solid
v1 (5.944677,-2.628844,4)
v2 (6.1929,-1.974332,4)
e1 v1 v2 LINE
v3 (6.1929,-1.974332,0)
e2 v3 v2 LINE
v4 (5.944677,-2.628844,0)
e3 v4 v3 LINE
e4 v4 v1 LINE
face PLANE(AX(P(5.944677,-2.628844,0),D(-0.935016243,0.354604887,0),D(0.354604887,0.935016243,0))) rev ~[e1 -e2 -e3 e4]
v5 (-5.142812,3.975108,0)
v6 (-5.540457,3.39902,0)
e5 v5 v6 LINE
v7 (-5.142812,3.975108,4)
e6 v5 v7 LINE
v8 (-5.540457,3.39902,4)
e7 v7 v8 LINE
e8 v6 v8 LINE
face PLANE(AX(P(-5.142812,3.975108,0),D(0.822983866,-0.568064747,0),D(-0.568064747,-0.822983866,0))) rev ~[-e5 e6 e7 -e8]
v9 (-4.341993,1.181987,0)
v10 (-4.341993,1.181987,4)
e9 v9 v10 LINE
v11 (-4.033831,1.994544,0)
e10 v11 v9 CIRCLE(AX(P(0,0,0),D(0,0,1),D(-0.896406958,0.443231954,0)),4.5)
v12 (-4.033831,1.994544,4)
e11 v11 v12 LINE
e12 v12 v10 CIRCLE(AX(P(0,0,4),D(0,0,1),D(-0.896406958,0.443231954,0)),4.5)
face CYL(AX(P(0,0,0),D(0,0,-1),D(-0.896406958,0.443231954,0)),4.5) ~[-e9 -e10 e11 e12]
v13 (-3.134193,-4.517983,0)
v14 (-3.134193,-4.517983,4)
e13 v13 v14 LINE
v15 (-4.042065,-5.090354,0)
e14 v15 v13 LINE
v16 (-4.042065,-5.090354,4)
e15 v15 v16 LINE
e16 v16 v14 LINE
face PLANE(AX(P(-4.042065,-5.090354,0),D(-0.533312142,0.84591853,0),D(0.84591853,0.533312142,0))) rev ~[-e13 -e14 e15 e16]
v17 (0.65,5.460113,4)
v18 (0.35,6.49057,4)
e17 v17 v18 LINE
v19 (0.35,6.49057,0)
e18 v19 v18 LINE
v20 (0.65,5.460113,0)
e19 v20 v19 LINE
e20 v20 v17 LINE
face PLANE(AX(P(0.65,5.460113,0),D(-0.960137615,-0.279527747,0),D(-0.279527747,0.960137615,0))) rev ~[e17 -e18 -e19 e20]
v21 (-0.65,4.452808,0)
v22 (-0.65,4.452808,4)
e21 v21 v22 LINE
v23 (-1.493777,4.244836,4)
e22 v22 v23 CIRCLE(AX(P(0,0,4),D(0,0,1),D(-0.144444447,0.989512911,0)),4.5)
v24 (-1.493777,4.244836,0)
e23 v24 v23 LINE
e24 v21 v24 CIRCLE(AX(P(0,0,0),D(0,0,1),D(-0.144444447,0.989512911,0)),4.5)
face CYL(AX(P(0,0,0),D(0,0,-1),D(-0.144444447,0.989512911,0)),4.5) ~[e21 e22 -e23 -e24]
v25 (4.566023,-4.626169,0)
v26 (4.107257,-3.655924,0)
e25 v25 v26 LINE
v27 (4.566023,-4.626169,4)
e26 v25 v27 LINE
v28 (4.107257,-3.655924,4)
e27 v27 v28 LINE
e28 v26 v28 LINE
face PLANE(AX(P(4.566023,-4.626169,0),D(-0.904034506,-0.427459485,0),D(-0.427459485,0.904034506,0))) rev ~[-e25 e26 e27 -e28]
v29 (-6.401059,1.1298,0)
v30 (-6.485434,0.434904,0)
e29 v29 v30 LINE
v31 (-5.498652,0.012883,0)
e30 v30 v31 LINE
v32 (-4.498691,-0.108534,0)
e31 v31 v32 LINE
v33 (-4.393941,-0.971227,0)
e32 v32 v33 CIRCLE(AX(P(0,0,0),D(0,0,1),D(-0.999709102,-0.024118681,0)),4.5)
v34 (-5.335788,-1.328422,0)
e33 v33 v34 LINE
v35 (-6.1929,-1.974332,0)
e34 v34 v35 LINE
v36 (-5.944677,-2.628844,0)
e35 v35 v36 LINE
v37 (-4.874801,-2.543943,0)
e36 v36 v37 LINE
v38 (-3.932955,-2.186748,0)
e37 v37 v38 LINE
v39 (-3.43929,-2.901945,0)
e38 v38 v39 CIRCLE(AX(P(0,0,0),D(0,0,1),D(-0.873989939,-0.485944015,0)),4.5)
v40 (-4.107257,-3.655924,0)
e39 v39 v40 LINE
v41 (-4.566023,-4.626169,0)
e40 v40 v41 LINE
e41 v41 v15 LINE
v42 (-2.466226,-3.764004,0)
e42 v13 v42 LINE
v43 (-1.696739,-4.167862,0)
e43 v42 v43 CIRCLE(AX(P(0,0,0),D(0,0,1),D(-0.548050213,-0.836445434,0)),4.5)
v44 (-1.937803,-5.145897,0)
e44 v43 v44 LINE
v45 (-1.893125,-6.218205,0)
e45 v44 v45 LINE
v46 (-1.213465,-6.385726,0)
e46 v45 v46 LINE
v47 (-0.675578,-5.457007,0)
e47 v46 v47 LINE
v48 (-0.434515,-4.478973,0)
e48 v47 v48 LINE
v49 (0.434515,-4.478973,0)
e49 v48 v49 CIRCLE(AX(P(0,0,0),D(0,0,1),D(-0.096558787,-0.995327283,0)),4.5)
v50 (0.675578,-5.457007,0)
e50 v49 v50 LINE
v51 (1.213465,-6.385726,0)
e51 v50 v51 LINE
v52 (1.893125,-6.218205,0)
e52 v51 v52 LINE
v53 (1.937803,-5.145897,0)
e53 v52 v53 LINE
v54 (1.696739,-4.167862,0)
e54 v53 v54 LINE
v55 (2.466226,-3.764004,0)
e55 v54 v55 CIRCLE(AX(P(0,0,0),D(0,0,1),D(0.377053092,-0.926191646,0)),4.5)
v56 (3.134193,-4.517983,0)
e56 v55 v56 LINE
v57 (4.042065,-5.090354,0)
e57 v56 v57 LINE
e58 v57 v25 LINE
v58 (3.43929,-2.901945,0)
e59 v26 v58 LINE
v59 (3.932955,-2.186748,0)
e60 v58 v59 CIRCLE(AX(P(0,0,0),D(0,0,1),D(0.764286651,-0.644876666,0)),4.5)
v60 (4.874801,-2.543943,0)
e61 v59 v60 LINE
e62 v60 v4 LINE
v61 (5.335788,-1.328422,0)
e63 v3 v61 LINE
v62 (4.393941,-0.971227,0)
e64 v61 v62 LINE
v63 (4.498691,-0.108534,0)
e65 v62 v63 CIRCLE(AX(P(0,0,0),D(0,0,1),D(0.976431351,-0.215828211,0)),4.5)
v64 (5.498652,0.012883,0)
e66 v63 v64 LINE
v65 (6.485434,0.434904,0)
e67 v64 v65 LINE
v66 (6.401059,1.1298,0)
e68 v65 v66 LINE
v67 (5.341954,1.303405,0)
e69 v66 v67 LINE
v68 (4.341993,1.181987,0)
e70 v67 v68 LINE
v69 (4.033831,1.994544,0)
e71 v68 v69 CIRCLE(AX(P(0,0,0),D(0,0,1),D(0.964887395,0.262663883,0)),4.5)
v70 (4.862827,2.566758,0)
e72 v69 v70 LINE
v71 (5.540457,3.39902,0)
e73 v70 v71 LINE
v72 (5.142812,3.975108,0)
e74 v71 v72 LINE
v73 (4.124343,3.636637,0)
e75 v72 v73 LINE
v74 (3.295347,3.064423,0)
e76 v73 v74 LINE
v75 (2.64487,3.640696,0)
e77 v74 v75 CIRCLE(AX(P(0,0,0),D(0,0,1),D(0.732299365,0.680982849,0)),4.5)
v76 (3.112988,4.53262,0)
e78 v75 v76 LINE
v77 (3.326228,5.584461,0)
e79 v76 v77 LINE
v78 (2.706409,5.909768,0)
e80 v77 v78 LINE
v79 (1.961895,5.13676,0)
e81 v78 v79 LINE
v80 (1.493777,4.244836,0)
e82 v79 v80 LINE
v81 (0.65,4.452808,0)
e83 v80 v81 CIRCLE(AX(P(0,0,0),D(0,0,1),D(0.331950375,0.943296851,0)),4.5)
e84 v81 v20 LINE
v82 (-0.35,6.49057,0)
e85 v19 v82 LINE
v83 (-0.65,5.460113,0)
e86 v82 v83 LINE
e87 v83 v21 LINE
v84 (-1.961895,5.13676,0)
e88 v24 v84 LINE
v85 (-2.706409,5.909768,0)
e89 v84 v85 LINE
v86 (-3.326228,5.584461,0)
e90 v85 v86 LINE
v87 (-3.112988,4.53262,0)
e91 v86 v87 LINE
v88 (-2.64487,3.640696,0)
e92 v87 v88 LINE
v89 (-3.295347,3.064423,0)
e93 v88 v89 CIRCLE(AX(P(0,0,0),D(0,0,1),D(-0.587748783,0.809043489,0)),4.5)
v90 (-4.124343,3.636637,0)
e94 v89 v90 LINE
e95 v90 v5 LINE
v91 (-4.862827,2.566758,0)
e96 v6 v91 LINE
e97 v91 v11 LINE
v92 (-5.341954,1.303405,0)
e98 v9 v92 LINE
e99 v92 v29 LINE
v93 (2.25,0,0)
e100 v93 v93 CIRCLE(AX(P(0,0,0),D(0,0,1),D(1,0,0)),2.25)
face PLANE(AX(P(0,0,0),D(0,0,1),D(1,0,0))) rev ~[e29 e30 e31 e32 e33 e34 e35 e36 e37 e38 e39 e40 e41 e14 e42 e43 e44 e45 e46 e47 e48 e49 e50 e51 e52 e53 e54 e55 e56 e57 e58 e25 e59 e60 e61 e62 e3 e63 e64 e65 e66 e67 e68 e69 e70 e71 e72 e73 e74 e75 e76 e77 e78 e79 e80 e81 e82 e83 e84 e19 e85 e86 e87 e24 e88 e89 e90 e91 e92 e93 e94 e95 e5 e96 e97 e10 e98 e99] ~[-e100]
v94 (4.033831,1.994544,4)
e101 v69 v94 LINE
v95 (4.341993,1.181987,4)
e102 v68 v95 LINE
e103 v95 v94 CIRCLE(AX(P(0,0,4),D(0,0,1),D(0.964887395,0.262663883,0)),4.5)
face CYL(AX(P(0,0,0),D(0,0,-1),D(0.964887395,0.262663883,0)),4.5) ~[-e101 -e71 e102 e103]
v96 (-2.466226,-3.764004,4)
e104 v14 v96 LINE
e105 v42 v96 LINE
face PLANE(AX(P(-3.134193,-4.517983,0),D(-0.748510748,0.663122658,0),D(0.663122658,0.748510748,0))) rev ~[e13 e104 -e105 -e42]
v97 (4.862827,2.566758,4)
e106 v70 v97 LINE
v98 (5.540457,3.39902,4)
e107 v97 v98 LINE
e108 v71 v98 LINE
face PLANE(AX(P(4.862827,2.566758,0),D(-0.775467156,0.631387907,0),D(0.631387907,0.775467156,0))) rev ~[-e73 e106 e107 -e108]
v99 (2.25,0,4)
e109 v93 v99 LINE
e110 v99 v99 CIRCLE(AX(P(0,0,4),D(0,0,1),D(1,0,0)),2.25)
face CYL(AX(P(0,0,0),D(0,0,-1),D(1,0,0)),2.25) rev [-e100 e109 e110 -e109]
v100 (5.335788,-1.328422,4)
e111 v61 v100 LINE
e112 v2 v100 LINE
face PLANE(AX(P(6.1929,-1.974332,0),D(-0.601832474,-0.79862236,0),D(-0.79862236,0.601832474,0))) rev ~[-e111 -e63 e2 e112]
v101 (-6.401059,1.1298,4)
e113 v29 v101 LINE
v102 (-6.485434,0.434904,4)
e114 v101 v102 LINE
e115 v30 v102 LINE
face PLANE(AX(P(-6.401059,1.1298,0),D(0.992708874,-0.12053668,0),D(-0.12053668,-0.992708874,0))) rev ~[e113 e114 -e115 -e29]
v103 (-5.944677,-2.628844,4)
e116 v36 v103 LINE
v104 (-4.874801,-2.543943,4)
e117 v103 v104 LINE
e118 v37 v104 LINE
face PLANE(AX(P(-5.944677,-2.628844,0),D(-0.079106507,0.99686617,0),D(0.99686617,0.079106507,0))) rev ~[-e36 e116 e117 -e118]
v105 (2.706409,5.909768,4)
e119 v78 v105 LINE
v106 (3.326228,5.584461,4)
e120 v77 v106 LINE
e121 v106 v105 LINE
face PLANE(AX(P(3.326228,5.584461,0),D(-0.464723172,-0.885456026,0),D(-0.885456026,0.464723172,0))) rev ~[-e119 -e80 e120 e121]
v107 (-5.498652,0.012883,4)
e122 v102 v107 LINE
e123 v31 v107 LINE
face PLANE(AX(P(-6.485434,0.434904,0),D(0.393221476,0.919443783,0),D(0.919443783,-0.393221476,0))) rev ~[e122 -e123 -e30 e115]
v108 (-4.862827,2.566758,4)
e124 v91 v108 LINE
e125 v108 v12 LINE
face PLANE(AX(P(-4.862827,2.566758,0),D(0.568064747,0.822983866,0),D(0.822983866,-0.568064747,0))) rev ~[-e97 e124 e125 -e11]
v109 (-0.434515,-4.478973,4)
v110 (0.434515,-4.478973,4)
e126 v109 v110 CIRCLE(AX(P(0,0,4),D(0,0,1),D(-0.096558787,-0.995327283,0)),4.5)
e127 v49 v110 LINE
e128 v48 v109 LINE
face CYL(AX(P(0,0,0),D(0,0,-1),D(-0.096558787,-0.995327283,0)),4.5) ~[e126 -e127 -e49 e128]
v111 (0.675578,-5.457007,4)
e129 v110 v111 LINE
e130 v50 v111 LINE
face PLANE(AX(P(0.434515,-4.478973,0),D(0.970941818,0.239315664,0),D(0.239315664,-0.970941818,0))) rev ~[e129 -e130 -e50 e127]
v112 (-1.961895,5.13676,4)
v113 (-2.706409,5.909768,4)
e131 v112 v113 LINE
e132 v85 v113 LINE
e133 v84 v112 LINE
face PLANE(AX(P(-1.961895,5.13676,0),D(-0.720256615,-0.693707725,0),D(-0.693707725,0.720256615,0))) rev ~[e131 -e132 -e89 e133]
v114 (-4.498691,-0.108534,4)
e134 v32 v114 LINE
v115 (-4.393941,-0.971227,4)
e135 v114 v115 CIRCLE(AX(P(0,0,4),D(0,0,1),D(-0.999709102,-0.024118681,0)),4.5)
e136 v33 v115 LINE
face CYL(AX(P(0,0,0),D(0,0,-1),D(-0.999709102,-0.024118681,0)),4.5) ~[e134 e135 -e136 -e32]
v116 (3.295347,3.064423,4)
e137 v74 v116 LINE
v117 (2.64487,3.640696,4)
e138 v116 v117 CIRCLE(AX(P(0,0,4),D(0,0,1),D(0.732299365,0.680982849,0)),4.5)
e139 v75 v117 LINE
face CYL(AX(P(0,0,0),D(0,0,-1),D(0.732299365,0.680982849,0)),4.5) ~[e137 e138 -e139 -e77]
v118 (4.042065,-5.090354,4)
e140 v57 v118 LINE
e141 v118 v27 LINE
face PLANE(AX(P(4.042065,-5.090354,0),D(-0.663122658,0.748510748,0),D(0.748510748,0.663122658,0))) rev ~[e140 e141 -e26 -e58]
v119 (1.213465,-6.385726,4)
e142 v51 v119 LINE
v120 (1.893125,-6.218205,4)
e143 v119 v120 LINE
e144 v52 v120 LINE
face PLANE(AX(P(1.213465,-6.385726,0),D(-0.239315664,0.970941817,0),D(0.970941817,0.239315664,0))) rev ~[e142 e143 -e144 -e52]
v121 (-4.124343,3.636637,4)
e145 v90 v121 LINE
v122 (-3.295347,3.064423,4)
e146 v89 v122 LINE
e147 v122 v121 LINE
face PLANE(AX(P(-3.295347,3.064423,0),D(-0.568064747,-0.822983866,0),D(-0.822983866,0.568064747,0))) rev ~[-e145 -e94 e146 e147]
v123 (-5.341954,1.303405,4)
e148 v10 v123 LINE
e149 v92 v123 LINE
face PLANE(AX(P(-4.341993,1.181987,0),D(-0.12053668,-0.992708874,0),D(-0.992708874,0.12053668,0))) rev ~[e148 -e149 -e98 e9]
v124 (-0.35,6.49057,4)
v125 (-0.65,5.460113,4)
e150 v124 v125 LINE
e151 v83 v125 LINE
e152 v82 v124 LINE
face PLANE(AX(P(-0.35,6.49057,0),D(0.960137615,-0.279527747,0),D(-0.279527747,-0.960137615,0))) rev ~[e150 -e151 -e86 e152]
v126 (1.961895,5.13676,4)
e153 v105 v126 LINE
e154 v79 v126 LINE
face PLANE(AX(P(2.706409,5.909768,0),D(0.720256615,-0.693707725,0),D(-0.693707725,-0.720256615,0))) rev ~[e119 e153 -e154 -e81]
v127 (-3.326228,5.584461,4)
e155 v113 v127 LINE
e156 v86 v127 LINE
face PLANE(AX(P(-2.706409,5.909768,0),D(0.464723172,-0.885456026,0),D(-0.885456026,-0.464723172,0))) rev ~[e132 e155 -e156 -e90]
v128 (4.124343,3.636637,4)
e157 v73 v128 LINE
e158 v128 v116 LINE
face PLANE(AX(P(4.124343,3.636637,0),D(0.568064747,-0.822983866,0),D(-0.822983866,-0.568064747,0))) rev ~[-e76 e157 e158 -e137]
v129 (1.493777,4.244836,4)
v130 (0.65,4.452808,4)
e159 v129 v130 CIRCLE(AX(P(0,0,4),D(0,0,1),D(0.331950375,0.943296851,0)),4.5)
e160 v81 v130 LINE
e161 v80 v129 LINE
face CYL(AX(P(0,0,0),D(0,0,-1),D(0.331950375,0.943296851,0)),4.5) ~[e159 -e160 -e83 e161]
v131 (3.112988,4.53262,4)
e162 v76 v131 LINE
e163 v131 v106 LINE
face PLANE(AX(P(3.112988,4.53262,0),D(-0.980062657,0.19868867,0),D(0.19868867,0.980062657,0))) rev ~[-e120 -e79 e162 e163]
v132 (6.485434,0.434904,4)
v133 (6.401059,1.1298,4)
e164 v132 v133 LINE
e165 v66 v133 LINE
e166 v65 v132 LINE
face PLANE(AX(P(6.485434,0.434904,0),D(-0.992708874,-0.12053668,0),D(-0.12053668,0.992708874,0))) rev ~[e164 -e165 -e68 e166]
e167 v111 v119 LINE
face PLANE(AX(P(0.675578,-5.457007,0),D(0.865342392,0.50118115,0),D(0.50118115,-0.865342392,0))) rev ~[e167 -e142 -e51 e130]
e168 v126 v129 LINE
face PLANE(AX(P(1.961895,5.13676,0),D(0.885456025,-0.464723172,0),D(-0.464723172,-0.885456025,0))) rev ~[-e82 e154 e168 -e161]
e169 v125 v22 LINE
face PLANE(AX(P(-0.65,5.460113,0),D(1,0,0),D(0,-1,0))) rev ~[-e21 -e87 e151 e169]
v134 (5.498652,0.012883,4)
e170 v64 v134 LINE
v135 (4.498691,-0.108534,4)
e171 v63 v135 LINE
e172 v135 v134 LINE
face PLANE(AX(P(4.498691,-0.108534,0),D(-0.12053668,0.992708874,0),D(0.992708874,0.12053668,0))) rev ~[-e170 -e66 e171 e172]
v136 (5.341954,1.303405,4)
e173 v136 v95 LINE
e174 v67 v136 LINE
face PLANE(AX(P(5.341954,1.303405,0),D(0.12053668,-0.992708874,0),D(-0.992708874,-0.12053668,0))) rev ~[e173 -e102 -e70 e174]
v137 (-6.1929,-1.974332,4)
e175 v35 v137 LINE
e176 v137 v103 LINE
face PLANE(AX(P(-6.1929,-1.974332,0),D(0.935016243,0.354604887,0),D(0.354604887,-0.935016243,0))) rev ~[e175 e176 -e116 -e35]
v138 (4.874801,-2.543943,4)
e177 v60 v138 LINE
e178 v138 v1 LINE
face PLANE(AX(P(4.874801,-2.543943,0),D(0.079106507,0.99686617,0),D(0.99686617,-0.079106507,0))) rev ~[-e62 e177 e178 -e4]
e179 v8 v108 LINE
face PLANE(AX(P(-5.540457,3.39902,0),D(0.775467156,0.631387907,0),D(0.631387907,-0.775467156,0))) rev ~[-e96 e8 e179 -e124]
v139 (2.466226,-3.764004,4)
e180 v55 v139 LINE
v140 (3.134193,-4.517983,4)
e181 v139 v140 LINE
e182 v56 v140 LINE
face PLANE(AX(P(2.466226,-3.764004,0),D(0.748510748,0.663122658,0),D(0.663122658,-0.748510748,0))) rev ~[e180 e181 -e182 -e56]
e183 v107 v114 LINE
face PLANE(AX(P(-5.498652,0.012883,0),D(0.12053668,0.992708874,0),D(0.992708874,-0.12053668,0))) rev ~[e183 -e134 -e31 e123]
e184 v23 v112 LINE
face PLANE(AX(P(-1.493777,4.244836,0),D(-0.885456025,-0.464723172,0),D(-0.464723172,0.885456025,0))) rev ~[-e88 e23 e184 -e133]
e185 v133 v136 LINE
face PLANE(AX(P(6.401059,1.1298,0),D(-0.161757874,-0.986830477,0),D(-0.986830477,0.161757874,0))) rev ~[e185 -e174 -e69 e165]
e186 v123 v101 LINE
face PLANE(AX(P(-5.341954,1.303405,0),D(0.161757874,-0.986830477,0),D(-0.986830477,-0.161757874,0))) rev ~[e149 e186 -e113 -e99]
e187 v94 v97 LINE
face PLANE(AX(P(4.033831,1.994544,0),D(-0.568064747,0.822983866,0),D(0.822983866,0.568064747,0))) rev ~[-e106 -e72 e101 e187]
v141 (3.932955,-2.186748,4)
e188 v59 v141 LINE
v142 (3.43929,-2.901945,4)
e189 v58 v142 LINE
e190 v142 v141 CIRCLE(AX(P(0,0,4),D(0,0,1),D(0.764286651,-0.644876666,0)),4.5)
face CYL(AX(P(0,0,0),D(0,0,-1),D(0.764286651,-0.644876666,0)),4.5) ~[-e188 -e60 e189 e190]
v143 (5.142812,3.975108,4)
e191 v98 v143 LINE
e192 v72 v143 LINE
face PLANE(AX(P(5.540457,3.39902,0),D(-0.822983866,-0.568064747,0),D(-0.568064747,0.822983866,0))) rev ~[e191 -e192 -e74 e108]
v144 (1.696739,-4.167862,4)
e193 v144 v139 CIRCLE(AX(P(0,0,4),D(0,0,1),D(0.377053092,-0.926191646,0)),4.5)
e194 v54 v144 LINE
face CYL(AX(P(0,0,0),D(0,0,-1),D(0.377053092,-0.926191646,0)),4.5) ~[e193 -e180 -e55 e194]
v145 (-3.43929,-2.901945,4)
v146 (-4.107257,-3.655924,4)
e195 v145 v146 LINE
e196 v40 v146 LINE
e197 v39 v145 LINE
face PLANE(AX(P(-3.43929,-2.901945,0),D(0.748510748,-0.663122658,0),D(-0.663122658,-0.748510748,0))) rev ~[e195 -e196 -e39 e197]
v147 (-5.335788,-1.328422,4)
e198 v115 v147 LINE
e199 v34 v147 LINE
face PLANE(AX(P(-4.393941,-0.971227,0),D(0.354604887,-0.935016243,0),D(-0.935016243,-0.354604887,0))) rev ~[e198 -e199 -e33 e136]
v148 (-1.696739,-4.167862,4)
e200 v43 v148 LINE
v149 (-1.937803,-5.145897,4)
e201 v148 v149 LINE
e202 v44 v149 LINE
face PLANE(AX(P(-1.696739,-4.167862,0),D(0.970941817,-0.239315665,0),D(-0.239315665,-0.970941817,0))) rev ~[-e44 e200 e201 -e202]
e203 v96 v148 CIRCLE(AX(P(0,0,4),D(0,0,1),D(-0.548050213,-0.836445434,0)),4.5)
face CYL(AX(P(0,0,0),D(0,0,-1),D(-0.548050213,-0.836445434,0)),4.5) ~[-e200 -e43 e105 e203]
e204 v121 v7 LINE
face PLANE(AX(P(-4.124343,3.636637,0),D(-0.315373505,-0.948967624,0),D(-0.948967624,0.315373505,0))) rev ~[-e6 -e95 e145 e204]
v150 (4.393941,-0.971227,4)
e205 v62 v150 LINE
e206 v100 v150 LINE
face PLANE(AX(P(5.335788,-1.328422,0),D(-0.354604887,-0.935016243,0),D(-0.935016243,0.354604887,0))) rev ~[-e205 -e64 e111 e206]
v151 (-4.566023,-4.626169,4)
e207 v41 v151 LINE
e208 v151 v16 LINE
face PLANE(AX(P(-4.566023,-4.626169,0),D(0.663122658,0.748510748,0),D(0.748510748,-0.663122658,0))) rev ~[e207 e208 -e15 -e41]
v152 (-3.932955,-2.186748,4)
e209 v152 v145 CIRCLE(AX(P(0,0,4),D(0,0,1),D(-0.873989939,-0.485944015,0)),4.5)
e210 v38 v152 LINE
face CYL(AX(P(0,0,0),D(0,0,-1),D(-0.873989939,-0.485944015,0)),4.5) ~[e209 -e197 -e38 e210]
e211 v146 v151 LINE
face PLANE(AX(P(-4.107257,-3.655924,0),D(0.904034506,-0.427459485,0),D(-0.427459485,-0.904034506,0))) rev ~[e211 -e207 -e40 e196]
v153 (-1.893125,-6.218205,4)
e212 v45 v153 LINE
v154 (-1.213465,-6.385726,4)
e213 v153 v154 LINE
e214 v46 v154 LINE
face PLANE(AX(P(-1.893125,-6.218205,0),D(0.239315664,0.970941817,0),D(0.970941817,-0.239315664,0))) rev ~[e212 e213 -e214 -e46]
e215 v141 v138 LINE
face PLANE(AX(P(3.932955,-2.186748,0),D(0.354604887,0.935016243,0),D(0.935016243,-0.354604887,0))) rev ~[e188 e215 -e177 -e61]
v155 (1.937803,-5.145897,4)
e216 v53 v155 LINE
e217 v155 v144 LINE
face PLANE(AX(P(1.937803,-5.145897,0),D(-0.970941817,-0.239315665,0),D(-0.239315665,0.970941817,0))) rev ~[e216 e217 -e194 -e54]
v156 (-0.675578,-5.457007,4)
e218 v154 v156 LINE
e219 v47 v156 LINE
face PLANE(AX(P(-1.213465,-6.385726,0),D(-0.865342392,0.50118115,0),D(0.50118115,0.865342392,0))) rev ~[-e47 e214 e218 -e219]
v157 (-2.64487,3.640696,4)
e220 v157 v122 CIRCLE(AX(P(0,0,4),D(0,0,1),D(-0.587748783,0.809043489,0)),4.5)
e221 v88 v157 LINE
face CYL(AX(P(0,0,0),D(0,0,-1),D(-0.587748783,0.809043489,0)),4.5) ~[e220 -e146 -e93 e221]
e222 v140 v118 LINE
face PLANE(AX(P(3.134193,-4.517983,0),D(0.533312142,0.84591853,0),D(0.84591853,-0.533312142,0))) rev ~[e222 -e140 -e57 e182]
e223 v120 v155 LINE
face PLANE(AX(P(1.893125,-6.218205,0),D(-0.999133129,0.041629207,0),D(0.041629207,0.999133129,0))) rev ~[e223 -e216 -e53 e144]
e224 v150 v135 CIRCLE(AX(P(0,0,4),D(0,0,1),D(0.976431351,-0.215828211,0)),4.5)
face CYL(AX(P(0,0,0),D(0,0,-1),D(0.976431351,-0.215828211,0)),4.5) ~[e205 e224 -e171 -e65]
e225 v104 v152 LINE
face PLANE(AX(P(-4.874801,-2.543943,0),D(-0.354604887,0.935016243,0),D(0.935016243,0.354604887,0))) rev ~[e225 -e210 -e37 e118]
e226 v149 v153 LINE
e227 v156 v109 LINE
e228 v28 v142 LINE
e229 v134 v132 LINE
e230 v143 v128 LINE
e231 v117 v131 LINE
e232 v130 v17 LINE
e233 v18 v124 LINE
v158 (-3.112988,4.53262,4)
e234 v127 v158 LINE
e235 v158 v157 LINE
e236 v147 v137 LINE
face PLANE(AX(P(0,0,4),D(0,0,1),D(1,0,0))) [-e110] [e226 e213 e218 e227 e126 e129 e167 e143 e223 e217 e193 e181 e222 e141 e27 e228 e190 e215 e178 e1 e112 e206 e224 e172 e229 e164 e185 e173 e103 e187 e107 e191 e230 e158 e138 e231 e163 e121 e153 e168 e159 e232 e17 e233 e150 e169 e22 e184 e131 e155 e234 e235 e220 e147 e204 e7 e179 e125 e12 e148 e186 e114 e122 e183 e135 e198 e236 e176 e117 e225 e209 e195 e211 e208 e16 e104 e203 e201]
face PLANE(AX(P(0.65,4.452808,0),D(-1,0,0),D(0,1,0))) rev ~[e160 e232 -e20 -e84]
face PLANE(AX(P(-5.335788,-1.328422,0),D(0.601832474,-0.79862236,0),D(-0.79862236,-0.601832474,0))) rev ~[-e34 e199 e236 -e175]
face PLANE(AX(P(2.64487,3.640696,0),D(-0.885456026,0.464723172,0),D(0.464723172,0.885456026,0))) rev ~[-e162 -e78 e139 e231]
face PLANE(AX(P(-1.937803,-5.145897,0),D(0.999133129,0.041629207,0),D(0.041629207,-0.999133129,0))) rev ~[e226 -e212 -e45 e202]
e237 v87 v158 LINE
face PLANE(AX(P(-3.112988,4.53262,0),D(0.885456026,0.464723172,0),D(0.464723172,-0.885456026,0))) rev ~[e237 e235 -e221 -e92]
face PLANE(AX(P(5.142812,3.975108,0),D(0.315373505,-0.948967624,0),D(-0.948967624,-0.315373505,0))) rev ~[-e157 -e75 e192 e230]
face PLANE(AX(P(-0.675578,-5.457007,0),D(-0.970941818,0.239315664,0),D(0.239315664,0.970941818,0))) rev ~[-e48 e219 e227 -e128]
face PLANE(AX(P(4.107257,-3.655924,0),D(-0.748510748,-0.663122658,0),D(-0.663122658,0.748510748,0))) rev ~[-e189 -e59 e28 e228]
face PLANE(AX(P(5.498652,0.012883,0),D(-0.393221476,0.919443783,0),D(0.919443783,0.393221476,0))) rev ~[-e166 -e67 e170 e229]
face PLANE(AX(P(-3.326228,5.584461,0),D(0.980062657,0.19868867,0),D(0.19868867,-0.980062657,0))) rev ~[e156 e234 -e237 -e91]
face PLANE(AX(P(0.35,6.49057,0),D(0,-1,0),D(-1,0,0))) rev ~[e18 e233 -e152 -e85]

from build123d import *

# Parameters (mm, degrees)
SZKIC1_R                    = 2.25
DODANIE_WYCI_GNI_CIE1_DEPTH = 4


with BuildPart() as part:
    # Szkic1 → Dodanie-wyciągnięcie1 (new body)
    with BuildSketch(Plane.XY):
        with BuildLine():
            Line((-0.65, 5.460113222), (-0.65, 4.452808103))
            ThreePointArc((-0.65, 4.452808103), (-1.076920489, 4.369238178), (-1.493776689, 4.244835827))
            Line((-1.493776689, 4.244835827), (-1.96189472, 5.136760215))
            Line((-1.96189472, 5.136760215), (-2.706408708, 5.9097675))
            Line((-2.706408708, 5.9097675), (-3.326227926, 5.58446128))
            Line((-3.326227926, 5.58446128), (-3.112987553, 4.532620091))
            Line((-3.112987553, 4.532620091), (-2.644869523, 3.640695704))
            ThreePointArc((-2.644869523, 3.640695704), (-2.984051962, 3.368298367), (-3.295347141, 3.06442282))
            Line((-3.295347141, 3.06442282), (-4.124343002, 3.636637347))
            Line((-4.124343002, 3.636637347), (-5.142811797, 3.975108403))
            Line((-5.142811797, 3.975108403), (-5.54045712, 3.399019697))
            Line((-5.54045712, 3.399019697), (-4.862827173, 2.566758322))
            Line((-4.862827173, 2.566758322), (-4.033831312, 1.994543794))
            ThreePointArc((-4.033831312, 1.994543794), (-4.207573092, 1.595721992), (-4.341993276, 1.181987475))
            Line((-4.341993276, 1.181987475), (-5.341954007, 1.30340469))
            Line((-5.341954007, 1.30340469), (-6.401058681, 1.129799877))
            Line((-6.401058681, 1.129799877), (-6.485434357, 0.434903665))
            Line((-6.485434357, 0.434903665), (-5.498651691, 0.012883153))
            Line((-5.498651691, 0.012883153), (-4.49869096, -0.108534062))
            ThreePointArc((-4.49869096, -0.108534062), (-4.467189933, -0.542415061), (-4.393941078, -0.971226957))
            Line((-4.393941078, -0.971226957), (-5.335787726, -1.328422275))
            Line((-5.335787726, -1.328422275), (-6.192900162, -1.974332186))
            Line((-6.192900162, -1.974332186), (-5.944676741, -2.628843556))
            Line((-5.944676741, -2.628843556), (-4.874801373, -2.54394339))
            Line((-4.874801373, -2.54394339), (-3.932954725, -2.186748072))
            ThreePointArc((-3.932954725, -2.186748072), (-3.703427397, -2.55629136), (-3.439289932, -2.901944997))
            Line((-3.439289932, -2.901944997), (-4.10725678, -3.655923705))
            Line((-4.10725678, -3.655923705), (-4.566022849, -4.626168538))
            Line((-4.566022849, -4.626168538), (-4.042065325, -5.090354399))
            Line((-4.042065325, -5.090354399), (-3.134192808, -4.517983161))
            Line((-3.134192808, -4.517983161), (-2.466225959, -3.764004452))
            ThreePointArc((-2.466225959, -3.764004452), (-2.091254274, -3.984552115), (-1.69673891, -4.16786241))
            Line((-1.69673891, -4.16786241), (-1.937802804, -5.145897073))
            Line((-1.937802804, -5.145897073), (-1.893124727, -6.21820543))
            Line((-1.893124727, -6.21820543), (-1.213465455, -6.385726395))
            Line((-1.213465455, -6.385726395), (-0.675578441, -5.457007437))
            Line((-0.675578441, -5.457007437), (-0.434514548, -4.478972774))
            ThreePointArc((-0.434514548, -4.478972774), (0, -4.5), (0.434514548, -4.478972774))
            Line((0.434514548, -4.478972774), (0.675578441, -5.457007437))
            Line((0.675578441, -5.457007437), (1.213465455, -6.385726395))
            Line((1.213465455, -6.385726395), (1.893124727, -6.21820543))
            Line((1.893124727, -6.21820543), (1.937802804, -5.145897073))
            Line((1.937802804, -5.145897073), (1.69673891, -4.16786241))
            ThreePointArc((1.69673891, -4.16786241), (2.091254274, -3.984552115), (2.466225959, -3.764004452))
            Line((2.466225959, -3.764004452), (3.134192808, -4.517983161))
            Line((3.134192808, -4.517983161), (4.042065325, -5.090354399))
            Line((4.042065325, -5.090354399), (4.566022849, -4.626168538))
            Line((4.566022849, -4.626168538), (4.10725678, -3.655923705))
            Line((4.10725678, -3.655923705), (3.439289932, -2.901944997))
            ThreePointArc((3.439289932, -2.901944997), (3.703427397, -2.55629136), (3.932954725, -2.186748072))
            Line((3.932954725, -2.186748072), (4.874801373, -2.54394339))
            Line((4.874801373, -2.54394339), (5.944676741, -2.628843556))
            Line((5.944676741, -2.628843556), (6.192900162, -1.974332186))
            Line((6.192900162, -1.974332186), (5.335787726, -1.328422275))
            Line((5.335787726, -1.328422275), (4.393941078, -0.971226957))
            ThreePointArc((4.393941078, -0.971226957), (4.467189933, -0.542415061), (4.49869096, -0.108534062))
            Line((4.49869096, -0.108534062), (5.498651691, 0.012883153))
            Line((5.498651691, 0.012883153), (6.485434357, 0.434903665))
            Line((6.485434357, 0.434903665), (6.401058681, 1.129799877))
            Line((6.401058681, 1.129799877), (5.341954007, 1.30340469))
            Line((5.341954007, 1.30340469), (4.341993276, 1.181987475))
            ThreePointArc((4.341993276, 1.181987475), (4.207573092, 1.595721992), (4.033831312, 1.994543794))
            Line((4.033831312, 1.994543794), (4.862827173, 2.566758322))
            Line((4.862827173, 2.566758322), (5.54045712, 3.399019697))
            Line((5.54045712, 3.399019697), (5.142811797, 3.975108403))
            Line((5.142811797, 3.975108403), (4.124343002, 3.636637347))
            Line((4.124343002, 3.636637347), (3.295347141, 3.06442282))
            ThreePointArc((3.295347141, 3.06442282), (2.984051962, 3.368298367), (2.644869523, 3.640695704))
            Line((2.644869523, 3.640695704), (3.112987553, 4.532620091))
            Line((3.112987553, 4.532620091), (3.326227926, 5.58446128))
            Line((3.326227926, 5.58446128), (2.706408708, 5.9097675))
            Line((2.706408708, 5.9097675), (1.96189472, 5.136760215))
            Line((1.96189472, 5.136760215), (1.493776689, 4.244835827))
            ThreePointArc((1.493776689, 4.244835827), (1.076920489, 4.369238178), (0.65, 4.452808103))
            Line((0.65, 4.452808103), (0.65, 5.460113222))
            Line((0.65, 5.460113222), (0.35, 6.490570083))
            Line((0.35, 6.490570083), (-0.35, 6.490570083))
            Line((-0.35, 6.490570083), (-0.65, 5.460113222))
        make_face()
        Circle(SZKIC1_R, mode=Mode.SUBTRACT)
    extrude(amount=DODANIE_WYCI_GNI_CIE1_DEPTH)


solid = part.part
